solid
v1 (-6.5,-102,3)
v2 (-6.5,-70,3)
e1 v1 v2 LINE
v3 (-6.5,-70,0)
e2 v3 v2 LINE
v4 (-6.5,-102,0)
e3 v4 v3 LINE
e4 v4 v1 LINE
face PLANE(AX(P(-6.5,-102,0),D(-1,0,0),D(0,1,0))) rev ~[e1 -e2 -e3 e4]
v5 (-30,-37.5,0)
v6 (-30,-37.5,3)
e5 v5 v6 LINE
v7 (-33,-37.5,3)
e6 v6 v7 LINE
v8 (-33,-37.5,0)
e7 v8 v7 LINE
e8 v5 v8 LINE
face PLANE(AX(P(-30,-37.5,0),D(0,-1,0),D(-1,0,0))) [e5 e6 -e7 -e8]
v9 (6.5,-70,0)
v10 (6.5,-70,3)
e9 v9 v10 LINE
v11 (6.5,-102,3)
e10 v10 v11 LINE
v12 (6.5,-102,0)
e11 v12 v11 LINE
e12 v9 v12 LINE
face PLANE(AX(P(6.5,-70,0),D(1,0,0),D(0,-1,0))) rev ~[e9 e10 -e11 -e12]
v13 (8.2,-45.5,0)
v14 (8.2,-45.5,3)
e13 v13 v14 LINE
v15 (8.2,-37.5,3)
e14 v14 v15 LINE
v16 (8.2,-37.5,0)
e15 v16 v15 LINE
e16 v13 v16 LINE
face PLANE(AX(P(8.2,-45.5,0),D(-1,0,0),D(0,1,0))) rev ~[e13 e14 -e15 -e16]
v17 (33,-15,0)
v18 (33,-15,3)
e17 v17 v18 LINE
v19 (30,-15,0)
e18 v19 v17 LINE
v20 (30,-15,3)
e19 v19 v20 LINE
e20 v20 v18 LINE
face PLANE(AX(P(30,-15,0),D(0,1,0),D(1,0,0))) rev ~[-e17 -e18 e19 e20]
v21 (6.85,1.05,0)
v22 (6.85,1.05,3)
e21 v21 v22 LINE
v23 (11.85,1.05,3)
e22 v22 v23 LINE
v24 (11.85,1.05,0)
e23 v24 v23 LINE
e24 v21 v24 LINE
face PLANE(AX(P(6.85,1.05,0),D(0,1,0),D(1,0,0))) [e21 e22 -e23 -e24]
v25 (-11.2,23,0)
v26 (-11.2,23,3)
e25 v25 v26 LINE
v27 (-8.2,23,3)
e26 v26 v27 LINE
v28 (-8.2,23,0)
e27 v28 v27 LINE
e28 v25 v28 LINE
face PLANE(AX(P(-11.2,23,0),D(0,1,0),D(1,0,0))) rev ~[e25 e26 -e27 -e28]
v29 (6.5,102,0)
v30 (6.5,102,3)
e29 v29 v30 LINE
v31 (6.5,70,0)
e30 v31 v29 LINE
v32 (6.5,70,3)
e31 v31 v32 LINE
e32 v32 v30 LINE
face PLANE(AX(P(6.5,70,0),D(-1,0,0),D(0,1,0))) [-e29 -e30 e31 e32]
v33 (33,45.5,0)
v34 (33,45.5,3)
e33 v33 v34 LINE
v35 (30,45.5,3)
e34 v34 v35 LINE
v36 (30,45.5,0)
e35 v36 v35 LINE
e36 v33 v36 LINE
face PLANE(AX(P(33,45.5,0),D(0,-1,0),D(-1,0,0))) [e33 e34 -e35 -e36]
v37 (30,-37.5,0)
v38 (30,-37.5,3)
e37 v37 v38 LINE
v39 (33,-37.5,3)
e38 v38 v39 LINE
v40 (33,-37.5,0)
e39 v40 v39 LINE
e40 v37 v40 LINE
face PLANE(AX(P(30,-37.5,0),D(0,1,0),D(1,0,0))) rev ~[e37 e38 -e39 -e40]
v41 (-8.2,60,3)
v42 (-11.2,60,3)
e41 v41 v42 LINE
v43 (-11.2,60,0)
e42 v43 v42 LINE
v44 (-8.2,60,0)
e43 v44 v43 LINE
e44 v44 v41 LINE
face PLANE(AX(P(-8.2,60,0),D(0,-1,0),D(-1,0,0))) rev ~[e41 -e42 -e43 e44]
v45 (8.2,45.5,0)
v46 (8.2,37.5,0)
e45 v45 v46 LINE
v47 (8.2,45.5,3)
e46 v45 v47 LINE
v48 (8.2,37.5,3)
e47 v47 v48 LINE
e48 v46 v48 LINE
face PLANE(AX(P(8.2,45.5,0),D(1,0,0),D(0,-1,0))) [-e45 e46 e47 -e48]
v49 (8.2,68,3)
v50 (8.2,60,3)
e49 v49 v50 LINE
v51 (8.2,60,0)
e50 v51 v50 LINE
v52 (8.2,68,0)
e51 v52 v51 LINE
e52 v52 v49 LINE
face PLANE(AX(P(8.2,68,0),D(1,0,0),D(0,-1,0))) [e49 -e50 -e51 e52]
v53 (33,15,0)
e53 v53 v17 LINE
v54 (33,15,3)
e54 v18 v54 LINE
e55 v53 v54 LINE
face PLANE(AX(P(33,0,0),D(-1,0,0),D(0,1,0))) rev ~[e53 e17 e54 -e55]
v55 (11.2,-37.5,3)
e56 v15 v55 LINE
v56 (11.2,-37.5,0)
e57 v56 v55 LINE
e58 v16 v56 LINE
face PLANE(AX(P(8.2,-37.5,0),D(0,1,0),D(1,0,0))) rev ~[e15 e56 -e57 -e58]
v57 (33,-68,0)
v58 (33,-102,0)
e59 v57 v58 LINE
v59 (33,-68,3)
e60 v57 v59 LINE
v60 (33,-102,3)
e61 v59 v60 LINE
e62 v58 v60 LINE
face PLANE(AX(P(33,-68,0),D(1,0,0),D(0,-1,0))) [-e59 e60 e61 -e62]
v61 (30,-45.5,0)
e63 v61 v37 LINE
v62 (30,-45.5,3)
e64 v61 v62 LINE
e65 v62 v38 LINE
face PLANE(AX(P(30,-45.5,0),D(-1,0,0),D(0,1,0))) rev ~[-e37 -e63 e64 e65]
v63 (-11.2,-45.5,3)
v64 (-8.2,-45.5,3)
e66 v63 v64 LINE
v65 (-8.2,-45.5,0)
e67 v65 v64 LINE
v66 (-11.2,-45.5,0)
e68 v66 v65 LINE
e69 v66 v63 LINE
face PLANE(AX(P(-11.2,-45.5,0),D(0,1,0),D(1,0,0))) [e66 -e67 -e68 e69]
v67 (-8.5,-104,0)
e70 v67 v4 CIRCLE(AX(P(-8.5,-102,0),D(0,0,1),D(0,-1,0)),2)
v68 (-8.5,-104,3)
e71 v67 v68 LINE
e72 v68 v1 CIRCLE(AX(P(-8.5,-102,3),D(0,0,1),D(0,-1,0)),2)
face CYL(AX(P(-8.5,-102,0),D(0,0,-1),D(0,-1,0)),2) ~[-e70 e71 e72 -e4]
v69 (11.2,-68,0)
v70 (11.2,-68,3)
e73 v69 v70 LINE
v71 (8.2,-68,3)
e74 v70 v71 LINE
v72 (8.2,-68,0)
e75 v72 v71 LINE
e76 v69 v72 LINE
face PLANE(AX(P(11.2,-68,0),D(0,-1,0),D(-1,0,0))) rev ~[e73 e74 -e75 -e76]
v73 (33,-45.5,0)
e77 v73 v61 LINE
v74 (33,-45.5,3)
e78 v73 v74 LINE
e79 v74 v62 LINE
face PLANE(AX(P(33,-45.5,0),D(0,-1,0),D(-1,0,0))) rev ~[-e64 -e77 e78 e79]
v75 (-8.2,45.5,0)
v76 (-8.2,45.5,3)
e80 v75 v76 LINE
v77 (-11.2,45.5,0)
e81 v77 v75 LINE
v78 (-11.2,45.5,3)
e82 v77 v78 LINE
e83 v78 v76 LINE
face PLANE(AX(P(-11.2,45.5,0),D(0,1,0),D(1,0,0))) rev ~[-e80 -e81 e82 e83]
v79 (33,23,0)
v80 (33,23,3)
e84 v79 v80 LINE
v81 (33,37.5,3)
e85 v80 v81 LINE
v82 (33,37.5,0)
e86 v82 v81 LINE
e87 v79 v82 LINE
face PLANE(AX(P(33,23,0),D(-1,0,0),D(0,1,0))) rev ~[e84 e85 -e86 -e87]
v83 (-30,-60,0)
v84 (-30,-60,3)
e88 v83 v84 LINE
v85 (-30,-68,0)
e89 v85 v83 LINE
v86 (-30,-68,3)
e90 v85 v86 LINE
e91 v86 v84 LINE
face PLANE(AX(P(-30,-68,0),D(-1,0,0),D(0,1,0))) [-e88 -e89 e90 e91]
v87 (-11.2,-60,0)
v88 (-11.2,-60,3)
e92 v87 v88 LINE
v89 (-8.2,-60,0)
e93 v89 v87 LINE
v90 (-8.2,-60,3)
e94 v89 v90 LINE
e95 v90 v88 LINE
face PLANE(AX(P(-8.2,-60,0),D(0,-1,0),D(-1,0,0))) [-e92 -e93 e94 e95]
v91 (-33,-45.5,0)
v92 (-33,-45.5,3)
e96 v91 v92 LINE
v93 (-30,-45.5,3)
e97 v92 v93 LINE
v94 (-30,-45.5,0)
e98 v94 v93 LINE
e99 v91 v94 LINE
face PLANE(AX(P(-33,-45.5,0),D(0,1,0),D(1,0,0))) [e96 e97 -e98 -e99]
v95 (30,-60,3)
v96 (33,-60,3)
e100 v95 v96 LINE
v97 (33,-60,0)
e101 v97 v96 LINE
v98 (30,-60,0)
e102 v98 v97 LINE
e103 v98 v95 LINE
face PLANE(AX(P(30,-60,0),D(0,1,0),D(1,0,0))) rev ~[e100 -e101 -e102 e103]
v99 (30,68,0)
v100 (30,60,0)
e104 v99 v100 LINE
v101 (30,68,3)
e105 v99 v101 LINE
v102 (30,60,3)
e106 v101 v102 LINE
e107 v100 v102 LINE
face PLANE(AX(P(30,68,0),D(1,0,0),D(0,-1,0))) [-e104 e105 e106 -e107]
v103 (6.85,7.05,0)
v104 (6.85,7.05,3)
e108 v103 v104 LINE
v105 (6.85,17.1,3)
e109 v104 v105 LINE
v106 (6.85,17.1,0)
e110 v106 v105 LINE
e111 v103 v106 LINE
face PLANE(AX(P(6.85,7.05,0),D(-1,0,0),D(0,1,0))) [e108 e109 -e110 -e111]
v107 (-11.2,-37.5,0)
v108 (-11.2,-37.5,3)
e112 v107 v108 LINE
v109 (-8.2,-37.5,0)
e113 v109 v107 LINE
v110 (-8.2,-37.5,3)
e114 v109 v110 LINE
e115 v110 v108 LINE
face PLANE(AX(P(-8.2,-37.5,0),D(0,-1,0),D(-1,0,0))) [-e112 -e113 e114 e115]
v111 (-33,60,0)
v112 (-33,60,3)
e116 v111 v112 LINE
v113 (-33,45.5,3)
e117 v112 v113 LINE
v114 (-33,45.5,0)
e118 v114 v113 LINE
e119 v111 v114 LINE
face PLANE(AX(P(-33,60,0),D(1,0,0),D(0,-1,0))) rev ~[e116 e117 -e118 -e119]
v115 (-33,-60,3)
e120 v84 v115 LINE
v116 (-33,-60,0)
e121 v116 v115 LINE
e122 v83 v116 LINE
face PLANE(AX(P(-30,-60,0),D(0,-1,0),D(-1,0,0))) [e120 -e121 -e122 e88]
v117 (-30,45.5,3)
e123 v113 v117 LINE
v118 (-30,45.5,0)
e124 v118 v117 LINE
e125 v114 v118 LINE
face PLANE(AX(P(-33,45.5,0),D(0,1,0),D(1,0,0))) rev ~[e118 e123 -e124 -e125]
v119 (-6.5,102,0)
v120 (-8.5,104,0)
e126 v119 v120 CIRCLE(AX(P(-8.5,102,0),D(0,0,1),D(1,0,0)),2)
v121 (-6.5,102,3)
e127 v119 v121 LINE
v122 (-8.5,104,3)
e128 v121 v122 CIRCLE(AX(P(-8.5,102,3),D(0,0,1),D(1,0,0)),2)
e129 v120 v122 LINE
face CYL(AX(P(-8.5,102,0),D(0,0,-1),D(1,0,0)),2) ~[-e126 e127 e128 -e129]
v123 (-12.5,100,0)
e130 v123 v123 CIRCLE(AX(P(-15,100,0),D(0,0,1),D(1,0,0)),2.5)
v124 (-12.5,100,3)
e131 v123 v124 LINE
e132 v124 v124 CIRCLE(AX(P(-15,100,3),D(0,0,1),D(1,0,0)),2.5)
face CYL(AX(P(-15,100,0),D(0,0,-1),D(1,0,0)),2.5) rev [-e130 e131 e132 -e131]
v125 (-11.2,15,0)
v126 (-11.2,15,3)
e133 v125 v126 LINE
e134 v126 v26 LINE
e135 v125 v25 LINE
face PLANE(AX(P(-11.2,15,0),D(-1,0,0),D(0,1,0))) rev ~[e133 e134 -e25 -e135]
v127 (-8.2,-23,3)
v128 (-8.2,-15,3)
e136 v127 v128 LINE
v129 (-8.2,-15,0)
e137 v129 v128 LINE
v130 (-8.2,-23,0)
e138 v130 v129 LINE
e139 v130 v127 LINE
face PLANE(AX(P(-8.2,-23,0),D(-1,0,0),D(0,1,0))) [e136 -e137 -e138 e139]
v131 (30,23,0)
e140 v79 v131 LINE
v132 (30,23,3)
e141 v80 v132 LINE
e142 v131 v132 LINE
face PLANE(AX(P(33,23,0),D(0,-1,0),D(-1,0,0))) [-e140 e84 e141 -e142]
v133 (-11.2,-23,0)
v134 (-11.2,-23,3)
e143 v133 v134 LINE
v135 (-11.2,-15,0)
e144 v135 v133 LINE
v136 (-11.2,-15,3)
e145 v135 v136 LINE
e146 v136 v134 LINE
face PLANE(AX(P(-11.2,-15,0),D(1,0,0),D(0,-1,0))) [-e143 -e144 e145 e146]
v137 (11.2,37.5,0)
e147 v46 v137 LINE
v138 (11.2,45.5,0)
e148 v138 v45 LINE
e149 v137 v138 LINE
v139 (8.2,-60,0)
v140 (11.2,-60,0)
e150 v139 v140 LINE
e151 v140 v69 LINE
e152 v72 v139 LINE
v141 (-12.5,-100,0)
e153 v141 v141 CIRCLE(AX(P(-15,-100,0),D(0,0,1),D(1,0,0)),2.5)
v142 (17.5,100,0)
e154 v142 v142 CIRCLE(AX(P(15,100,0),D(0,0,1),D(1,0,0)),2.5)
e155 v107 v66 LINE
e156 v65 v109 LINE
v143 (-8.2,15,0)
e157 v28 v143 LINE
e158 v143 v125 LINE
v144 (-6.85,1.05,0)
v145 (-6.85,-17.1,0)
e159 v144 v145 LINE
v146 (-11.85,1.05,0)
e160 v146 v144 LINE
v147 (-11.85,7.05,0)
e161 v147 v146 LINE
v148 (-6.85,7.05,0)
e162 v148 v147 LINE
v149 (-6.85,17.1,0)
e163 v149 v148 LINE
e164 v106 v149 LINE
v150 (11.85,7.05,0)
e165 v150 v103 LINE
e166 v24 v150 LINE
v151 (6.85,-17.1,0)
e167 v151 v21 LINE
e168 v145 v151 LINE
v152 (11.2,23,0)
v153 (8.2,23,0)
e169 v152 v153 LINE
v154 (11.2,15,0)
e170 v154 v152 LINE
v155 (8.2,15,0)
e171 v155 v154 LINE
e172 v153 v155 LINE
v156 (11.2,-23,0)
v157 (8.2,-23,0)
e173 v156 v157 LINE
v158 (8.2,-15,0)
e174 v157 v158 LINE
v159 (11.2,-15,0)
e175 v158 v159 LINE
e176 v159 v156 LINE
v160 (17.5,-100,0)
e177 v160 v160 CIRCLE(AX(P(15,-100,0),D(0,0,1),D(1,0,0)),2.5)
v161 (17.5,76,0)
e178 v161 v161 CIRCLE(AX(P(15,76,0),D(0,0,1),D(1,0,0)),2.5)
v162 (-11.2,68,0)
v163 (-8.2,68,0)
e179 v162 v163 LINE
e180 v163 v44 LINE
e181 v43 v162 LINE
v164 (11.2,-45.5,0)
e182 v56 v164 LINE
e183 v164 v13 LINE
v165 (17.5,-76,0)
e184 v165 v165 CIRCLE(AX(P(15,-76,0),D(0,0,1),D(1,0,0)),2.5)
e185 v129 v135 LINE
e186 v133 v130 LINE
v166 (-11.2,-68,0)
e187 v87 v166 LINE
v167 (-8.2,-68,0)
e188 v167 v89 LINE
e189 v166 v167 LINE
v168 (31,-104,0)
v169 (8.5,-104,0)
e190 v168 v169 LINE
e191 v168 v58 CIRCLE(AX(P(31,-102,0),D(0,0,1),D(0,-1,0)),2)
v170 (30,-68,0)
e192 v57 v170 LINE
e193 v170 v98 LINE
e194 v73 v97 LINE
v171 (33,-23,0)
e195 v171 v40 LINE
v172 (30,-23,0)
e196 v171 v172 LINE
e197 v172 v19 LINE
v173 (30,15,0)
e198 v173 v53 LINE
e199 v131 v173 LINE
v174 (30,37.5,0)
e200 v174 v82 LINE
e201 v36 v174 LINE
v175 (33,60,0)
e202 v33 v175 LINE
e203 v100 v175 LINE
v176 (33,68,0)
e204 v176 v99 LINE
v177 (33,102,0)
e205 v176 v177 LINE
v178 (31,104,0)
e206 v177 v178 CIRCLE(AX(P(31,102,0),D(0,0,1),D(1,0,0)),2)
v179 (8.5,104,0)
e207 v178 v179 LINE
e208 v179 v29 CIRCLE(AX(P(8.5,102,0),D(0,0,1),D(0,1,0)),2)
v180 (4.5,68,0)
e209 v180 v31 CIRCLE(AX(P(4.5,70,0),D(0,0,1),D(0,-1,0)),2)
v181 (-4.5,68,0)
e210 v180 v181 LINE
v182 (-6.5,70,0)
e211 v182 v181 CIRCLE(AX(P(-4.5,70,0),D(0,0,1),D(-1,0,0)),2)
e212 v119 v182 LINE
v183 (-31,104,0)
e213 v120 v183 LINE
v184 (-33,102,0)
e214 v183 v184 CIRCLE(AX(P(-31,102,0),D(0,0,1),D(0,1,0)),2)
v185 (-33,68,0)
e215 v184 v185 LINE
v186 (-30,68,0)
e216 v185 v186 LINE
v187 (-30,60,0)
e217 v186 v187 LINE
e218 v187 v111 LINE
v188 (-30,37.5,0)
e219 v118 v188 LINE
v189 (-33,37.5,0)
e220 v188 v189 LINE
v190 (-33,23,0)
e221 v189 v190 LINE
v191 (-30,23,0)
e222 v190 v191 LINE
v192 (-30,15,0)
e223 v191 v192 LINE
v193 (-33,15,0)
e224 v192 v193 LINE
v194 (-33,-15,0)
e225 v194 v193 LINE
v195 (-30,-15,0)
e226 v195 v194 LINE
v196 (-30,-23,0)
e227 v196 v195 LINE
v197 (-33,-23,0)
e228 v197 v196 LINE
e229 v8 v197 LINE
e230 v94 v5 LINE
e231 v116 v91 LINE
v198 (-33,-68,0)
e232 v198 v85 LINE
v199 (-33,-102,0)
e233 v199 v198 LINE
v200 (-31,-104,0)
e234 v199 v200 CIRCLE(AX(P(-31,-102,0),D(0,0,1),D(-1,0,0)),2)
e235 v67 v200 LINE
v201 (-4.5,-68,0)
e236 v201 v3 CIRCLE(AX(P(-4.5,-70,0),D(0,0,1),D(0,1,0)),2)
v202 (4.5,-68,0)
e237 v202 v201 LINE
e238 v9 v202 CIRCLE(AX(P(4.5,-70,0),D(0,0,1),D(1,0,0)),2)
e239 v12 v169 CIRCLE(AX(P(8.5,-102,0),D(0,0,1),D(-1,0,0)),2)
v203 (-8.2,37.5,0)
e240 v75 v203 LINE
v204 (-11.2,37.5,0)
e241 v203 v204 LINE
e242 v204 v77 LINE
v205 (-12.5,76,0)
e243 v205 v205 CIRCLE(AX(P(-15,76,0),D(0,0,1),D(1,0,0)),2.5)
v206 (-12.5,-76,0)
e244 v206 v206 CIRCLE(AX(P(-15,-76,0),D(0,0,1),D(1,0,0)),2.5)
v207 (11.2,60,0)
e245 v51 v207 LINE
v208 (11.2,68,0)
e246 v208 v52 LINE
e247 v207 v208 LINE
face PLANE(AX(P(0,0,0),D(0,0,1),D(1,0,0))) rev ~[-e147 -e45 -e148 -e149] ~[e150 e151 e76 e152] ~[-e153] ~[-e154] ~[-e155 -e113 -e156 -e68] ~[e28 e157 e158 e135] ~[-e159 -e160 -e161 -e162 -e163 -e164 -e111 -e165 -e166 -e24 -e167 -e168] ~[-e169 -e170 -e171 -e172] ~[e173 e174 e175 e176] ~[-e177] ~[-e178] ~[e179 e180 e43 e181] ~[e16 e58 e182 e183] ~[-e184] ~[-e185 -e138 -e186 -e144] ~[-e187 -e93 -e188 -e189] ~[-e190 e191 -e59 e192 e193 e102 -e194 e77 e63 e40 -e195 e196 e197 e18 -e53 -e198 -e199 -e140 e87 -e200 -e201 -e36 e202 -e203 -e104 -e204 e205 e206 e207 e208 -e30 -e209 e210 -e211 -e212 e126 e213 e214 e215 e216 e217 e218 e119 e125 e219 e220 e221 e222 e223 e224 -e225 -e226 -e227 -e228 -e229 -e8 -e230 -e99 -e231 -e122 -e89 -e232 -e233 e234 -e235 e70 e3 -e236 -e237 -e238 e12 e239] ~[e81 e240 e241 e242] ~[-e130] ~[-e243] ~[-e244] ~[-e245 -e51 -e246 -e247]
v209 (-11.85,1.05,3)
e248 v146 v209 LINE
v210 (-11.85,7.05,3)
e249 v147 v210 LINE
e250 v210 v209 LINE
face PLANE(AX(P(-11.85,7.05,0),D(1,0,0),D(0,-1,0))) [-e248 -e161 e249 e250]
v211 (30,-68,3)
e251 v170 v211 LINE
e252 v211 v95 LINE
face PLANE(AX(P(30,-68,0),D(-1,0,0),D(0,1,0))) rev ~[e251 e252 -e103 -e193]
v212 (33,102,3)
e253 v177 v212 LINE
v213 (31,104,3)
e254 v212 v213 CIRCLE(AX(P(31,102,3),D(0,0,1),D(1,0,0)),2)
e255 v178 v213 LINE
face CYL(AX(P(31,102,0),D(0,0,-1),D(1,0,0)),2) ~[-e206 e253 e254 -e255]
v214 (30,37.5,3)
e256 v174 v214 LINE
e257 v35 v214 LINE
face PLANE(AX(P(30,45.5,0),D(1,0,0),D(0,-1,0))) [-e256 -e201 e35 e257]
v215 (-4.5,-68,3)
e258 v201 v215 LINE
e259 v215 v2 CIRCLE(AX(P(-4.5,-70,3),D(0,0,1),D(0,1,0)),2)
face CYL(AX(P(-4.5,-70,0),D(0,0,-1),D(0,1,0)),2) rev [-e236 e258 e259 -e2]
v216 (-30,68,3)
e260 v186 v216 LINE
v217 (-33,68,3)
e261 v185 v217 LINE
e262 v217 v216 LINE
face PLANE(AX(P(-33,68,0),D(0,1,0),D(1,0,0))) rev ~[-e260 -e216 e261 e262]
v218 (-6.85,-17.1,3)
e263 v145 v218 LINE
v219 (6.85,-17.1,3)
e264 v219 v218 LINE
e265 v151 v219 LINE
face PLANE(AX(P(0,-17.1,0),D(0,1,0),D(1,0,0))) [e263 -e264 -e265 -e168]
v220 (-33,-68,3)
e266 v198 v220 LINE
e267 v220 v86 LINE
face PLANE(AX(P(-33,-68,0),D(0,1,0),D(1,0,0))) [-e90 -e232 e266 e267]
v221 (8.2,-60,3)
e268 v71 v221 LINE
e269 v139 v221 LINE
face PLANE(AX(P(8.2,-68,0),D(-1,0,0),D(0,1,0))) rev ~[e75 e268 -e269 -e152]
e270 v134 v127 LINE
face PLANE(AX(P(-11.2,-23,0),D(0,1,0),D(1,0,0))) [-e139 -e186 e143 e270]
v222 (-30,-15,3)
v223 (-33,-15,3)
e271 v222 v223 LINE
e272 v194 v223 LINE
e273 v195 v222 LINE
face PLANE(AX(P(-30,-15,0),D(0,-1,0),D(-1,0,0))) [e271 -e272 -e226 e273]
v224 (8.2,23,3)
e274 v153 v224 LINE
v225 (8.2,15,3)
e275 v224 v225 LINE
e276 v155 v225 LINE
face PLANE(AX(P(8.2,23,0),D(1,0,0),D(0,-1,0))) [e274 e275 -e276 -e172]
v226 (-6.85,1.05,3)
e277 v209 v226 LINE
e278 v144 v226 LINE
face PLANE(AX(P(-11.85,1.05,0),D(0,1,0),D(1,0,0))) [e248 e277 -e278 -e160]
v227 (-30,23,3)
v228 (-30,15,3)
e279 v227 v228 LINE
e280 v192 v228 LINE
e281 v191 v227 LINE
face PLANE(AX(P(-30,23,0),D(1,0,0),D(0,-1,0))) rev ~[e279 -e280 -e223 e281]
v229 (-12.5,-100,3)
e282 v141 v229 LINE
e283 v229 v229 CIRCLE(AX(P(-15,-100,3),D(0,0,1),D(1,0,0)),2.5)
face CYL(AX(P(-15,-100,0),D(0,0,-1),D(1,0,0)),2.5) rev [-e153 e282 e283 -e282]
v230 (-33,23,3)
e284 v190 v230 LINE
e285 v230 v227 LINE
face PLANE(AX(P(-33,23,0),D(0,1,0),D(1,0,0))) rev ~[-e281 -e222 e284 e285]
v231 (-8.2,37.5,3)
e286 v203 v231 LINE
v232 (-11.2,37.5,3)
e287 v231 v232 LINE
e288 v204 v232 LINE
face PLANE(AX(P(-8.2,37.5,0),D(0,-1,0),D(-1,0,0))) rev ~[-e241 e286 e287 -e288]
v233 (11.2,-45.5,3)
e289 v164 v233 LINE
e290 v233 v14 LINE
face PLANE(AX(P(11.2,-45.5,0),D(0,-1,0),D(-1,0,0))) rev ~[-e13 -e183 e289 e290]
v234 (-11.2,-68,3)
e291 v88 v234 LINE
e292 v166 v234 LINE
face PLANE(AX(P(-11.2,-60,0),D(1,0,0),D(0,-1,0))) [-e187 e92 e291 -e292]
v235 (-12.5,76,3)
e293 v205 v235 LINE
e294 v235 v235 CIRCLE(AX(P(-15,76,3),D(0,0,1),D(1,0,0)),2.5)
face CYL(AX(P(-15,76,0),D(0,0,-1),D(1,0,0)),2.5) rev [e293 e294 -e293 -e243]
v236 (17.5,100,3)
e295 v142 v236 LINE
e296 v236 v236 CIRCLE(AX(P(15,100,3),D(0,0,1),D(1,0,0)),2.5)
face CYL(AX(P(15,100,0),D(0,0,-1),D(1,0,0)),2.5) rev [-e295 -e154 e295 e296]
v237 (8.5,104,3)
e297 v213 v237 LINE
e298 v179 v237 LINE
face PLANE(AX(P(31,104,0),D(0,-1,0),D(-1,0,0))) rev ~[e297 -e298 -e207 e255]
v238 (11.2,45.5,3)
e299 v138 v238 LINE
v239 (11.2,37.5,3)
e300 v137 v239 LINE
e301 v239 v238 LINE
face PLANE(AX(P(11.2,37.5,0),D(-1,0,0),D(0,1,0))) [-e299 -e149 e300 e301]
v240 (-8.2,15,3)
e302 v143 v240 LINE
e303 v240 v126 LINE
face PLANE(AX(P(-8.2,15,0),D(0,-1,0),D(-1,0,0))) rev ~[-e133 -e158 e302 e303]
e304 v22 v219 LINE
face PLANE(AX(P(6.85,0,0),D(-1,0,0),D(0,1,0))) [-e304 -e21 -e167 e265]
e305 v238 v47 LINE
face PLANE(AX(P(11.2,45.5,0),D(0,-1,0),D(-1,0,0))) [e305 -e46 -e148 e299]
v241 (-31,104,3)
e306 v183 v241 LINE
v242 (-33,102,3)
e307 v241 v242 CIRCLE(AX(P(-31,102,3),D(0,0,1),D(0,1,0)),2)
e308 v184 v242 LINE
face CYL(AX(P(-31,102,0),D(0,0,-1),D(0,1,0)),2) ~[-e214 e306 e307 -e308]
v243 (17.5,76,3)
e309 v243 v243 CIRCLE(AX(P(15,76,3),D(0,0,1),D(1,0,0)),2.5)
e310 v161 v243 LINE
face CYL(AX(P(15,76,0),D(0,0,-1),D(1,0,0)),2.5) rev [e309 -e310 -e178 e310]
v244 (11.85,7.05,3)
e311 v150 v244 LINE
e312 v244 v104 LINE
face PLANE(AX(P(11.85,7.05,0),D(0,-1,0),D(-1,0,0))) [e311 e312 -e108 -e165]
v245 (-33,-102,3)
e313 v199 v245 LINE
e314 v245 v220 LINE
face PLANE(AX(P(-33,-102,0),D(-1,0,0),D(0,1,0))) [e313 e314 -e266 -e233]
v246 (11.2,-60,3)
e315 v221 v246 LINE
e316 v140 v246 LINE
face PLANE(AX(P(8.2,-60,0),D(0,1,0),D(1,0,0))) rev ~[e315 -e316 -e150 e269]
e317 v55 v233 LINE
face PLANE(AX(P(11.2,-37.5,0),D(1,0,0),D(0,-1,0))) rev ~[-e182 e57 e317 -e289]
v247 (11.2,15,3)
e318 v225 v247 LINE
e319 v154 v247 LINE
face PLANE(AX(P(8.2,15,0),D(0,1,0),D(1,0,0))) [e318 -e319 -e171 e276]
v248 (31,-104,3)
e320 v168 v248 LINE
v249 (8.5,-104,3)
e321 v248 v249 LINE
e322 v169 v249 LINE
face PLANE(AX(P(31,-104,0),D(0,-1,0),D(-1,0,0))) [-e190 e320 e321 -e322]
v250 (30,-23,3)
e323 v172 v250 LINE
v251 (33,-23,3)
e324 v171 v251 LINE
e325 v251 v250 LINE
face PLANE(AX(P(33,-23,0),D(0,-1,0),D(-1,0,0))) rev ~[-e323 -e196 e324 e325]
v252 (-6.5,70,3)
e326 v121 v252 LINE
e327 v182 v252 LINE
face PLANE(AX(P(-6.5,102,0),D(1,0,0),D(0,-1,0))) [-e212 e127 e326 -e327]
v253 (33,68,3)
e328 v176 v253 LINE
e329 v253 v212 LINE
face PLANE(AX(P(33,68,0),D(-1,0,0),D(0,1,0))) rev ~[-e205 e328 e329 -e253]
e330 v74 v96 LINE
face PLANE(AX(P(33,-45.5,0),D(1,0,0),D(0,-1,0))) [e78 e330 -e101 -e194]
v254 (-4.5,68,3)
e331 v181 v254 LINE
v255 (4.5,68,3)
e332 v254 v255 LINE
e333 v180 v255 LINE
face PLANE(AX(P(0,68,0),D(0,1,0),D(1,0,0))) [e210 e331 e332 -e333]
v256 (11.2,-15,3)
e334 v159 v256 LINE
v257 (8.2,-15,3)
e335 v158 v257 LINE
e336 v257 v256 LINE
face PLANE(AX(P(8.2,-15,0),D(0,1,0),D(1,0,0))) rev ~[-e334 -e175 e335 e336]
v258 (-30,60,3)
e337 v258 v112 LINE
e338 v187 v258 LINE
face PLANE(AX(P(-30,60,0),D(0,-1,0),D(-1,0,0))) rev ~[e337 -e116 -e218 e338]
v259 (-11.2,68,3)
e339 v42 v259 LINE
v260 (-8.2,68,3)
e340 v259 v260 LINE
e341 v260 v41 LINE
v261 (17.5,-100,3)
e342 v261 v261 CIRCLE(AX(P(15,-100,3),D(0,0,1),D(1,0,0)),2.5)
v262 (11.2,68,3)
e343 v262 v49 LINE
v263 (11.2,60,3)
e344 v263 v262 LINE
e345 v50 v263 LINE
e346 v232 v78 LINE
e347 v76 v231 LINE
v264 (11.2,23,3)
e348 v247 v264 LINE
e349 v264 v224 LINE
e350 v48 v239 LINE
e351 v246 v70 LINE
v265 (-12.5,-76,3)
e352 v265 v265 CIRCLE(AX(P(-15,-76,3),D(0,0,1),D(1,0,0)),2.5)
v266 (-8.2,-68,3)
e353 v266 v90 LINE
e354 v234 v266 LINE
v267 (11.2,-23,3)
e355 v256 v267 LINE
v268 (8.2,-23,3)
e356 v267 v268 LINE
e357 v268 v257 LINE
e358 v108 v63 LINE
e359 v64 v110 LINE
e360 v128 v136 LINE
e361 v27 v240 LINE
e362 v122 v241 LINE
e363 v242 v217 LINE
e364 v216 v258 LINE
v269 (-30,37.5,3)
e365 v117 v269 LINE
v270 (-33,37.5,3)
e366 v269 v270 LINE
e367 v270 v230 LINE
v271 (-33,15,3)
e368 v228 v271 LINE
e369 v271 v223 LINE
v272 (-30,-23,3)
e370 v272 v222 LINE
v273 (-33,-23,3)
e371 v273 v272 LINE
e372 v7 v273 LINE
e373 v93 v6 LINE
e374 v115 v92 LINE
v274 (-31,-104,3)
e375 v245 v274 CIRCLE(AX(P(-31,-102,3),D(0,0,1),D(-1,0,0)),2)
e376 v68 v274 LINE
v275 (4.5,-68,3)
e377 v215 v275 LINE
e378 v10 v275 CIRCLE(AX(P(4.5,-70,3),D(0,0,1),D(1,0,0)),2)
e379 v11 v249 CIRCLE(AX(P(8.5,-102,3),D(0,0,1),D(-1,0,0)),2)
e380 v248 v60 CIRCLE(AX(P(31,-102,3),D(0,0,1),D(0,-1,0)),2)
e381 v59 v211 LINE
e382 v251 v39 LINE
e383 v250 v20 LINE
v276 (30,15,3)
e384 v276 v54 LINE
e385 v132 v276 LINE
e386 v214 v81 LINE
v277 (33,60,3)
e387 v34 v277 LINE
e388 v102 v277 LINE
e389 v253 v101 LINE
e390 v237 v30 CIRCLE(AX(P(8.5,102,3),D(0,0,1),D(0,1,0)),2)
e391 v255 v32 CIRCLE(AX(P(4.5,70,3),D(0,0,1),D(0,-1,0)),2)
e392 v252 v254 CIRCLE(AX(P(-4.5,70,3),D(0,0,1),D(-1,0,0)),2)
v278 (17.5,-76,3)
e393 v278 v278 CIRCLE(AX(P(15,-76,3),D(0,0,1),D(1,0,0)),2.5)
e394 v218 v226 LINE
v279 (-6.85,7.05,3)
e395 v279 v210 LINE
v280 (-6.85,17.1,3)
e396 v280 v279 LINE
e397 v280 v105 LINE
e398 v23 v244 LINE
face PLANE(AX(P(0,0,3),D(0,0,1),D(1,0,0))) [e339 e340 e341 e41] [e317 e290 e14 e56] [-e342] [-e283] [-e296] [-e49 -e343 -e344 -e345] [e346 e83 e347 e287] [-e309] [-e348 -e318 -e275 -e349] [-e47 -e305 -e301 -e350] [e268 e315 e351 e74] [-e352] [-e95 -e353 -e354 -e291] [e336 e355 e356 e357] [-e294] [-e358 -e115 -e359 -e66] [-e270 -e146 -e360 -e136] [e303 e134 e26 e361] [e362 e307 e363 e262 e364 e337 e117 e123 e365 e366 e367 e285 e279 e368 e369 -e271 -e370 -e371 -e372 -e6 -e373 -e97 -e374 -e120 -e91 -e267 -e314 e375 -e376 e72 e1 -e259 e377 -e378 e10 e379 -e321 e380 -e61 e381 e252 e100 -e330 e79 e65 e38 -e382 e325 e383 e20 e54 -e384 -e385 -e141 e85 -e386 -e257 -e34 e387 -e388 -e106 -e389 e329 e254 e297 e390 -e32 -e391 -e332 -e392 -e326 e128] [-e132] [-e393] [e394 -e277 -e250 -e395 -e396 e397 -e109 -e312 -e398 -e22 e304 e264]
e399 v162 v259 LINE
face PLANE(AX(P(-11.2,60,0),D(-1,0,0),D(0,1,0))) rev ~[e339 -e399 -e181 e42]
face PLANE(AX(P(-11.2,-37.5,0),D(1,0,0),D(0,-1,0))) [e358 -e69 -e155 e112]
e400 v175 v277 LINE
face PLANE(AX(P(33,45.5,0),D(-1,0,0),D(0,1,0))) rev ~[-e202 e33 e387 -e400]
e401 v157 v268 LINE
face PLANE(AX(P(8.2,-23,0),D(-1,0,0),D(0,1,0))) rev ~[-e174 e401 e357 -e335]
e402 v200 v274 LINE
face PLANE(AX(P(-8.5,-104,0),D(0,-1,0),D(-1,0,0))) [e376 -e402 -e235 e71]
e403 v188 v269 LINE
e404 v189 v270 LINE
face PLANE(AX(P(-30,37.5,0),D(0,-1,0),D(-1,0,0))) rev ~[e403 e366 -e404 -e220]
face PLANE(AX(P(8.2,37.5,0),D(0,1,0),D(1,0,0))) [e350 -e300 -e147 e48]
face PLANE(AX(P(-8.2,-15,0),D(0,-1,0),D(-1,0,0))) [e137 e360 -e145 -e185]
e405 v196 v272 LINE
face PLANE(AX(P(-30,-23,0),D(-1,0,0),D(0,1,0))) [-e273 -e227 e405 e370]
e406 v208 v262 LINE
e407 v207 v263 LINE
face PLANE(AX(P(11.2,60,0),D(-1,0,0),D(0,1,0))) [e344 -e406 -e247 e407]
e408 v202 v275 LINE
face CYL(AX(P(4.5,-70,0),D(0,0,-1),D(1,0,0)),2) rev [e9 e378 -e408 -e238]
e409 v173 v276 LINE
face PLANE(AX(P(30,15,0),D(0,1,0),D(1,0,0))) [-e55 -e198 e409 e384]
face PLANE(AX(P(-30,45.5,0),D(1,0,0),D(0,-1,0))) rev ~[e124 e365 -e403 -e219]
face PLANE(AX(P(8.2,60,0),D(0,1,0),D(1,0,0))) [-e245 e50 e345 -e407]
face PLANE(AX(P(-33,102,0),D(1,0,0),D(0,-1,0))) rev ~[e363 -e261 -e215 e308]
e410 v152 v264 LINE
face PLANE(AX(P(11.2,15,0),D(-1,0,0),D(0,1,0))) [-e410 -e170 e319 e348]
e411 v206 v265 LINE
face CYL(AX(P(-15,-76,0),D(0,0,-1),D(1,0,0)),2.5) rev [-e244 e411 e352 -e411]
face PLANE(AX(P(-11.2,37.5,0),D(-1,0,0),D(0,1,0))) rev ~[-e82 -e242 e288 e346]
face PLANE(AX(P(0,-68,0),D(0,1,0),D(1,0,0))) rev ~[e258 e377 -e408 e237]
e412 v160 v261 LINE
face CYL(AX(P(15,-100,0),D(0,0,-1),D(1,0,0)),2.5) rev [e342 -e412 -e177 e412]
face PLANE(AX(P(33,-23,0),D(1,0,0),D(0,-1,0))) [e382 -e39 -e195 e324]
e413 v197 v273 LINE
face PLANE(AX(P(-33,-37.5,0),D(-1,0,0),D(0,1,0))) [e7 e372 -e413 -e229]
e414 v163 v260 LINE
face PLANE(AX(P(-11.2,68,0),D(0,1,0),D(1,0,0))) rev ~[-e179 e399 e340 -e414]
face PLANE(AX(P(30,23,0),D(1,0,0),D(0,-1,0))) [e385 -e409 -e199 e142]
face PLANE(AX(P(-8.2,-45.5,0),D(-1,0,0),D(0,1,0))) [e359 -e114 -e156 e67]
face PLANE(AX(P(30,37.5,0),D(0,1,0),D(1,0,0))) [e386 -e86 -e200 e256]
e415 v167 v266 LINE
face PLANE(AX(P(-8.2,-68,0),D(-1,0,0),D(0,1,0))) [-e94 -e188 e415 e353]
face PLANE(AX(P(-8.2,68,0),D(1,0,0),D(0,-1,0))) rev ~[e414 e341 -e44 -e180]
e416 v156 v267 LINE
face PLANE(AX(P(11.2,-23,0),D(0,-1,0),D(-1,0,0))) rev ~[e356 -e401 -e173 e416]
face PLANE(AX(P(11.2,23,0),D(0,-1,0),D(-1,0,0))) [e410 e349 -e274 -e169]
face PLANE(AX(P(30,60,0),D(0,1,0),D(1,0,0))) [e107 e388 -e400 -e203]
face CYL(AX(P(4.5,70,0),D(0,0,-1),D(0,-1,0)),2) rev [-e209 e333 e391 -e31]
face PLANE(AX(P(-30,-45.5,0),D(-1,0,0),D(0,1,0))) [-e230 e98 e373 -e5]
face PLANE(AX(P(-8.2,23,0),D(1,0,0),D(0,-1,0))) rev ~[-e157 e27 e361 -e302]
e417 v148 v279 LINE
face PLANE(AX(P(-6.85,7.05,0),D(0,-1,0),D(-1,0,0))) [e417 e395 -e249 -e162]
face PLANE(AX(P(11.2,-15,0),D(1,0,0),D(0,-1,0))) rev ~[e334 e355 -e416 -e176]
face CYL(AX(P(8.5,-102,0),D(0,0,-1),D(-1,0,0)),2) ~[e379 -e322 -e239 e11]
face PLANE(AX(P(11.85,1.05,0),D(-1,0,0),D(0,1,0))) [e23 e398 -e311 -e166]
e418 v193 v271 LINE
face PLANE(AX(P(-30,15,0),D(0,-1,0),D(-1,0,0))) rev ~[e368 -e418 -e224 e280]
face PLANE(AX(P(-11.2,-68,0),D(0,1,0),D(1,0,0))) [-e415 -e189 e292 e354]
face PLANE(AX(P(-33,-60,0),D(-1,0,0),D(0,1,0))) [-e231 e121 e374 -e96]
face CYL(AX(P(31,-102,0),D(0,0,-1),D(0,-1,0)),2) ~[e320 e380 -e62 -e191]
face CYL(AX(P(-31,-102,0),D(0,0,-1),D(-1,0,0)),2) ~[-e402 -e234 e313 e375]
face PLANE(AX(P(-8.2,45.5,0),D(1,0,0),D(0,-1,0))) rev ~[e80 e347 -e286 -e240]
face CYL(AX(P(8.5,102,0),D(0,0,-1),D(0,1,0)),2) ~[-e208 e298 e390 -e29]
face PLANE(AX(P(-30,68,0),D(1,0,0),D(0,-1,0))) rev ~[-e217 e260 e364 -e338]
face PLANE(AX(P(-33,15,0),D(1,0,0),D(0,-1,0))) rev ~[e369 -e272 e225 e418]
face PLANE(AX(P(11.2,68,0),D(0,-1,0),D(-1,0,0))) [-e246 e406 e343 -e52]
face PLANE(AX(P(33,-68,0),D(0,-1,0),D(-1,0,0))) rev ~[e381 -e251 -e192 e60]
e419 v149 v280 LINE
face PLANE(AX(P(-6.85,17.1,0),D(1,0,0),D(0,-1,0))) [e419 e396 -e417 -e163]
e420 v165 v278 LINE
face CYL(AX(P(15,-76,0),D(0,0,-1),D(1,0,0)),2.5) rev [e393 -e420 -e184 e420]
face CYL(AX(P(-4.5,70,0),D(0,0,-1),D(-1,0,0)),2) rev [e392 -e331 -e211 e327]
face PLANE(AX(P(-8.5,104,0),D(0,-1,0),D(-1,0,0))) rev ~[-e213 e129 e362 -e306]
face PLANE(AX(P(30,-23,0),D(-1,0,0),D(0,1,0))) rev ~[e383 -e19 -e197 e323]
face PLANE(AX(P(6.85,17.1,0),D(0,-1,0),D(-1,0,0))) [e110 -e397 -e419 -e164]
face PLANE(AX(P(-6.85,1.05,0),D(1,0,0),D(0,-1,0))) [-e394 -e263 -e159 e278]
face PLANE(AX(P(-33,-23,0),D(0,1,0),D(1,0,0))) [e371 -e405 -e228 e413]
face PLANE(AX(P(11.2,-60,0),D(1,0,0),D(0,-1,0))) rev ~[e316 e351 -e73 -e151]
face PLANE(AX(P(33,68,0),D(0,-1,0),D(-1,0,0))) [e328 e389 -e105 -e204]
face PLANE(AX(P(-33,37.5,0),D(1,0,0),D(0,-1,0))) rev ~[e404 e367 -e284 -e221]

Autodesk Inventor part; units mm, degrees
ref_plane "YZ Plane" through (0, 0, 0) normal (1, 0, 0) x (0, 1, 0)
ref_plane "XZ Plane" through (0, 0, 0) normal (0, 1, 0) x (-1, 0, 0)
ref_plane "XY Plane" through (0, 0, 0) normal (0, 0, 1) x (1, 0, 0)
sketch "草圖1" plane through (0, 0, 0) normal (0, 0, 1) x (1, 0, 0)
  line L0 (-33, -104) -> (33, 104) construction
  line L1 (33, -104) -> (-33, 104) construction
  line L2 (0, 128.5379) -> (0, -160.5456)
  circle A0 centre (-15, 100) radius 2.5
  circle A1 centre (15, 100) radius 2.5
  circle A2 centre (15, 76) radius 2.5
  circle A3 centre (-15, 76) radius 2.5
  line L3 (-33, 68) -> (-30, 68)
  line L4 (-30, 68) -> (-30, 60)
  line L5 (-30, 60) -> (-33, 60)
  line L6 (-33, 102) -> (-33, 68)
  line L7 (-11.2, 68) -> (-8.2, 68)
  line L8 (-8.2, 68) -> (-8.2, 60)
  line L9 (-8.2, 60) -> (-11.2, 60)
  line L10 (-11.2, 60) -> (-11.2, 68)
  line L11 (33, 68) -> (30, 68)
  line L12 (30, 68) -> (30, 60)
  line L13 (30, 60) -> (33, 60)
  line L14 (11.2, 68) -> (8.2, 68)
  line L15 (8.2, 68) -> (8.2, 60)
  line L16 (8.2, 60) -> (11.2, 60)
  line L17 (11.2, 60) -> (11.2, 68)
  line L18 (33, 68) -> (33, 102)
  line L19 (8.2, 45.5) -> (8.2, 37.5)
  line L20 (8.2, 37.5) -> (11.2, 37.5)
  line L21 (11.2, 45.5) -> (8.2, 45.5)
  line L22 (11.2, 37.5) -> (11.2, 45.5)
  line L23 (30, 45.5) -> (30, 37.5)
  line L24 (30, 37.5) -> (33, 37.5)
  line L25 (33, 45.5) -> (30, 45.5)
  line L26 (-8.2, 45.5) -> (-8.2, 37.5)
  line L27 (-8.2, 37.5) -> (-11.2, 37.5)
  line L28 (-11.2, 45.5) -> (-8.2, 45.5)
  line L29 (-11.2, 37.5) -> (-11.2, 45.5)
  line L30 (-30, 45.5) -> (-30, 37.5)
  line L31 (-33, 45.5) -> (-30, 45.5)
  line L32 (-30, 37.5) -> (-33, 37.5)
  line L33 (8.2, 23) -> (8.2, 15)
  line L34 (8.2, 15) -> (11.2, 15)
  line L35 (11.2, 23) -> (8.2, 23)
  line L36 (11.2, 15) -> (11.2, 23)
  line L37 (30, 23) -> (30, 15)
  line L38 (30, 15) -> (33, 15)
  line L39 (33, 23) -> (30, 23)
  line L40 (-8.2, 23) -> (-8.2, 15)
  line L41 (-8.2, 15) -> (-11.2, 15)
  line L42 (-11.2, 23) -> (-8.2, 23)
  line L43 (-11.2, 15) -> (-11.2, 23)
  line L44 (-30, 23) -> (-30, 15)
  line L45 (-33, 23) -> (-30, 23)
  line L46 (-30, 15) -> (-33, 15)
  line L47 (-33, 60) -> (-33, 45.5)
  line L48 (-33, 37.5) -> (-33, 23)
  line L49 (33, 23) -> (33, 37.5)
  line L50 (33, 45.5) -> (33, 60)
  line L51 (-4.5, 68) -> (4.5, 68)
  line L52 (6.5, 70) -> (6.5, 102)
  line L53 (-6.5, 102) -> (-6.5, 70)
  line L54 (-6.5, 68) -> (6.5, 104) construction
  line L55 (6.5, 68) -> (-6.5, 104) construction
  line L56 (31, 104) -> (8.5, 104)
  line L57 (-8.5, 104) -> (-31, 104)
  arc A4 (-6.5, 102) -> (-8.5, 104) centre (-8.5, 102) ccw
  arc A5 (8.5, 104) -> (6.5, 102) centre (8.5, 102) ccw
  arc A6 (-6.5, 70) -> (-4.5, 68) centre (-4.5, 70) ccw
  arc A7 (4.5, 68) -> (6.5, 70) centre (4.5, 70) ccw
  arc A8 (-31, 104) -> (-33, 102) centre (-31, 102) ccw
  arc A9 (33, 102) -> (31, 104) centre (31, 102) ccw
  line L58 (-83.0249, 0) -> (86.2934, 0)
  circle A10 centre (-15, -100) radius 2.5
  circle A11 centre (15, -100) radius 2.5
  circle A12 centre (15, -76) radius 2.5
  circle A13 centre (-15, -76) radius 2.5
  line L59 (-33, -68) -> (-30, -68)
  line L60 (-30, -68) -> (-30, -60)
  line L61 (-30, -60) -> (-33, -60)
  line L62 (-33, -102) -> (-33, -68)
  line L63 (-11.2, -68) -> (-8.2, -68)
  line L64 (-8.2, -68) -> (-8.2, -60)
  line L65 (-8.2, -60) -> (-11.2, -60)
  line L66 (-11.2, -60) -> (-11.2, -68)
  line L67 (33, -68) -> (30, -68)
  line L68 (30, -68) -> (30, -60)
  line L69 (30, -60) -> (33, -60)
  line L70 (8.2, -60) -> (11.2, -60)
  line L71 (11.2, -60) -> (11.2, -68)
  line L72 (8.2, -68) -> (8.2, -60)
  line L73 (11.2, -68) -> (8.2, -68)
  line L74 (33, -68) -> (33, -102)
  line L75 (8.2, -45.5) -> (8.2, -37.5)
  line L76 (8.2, -37.5) -> (11.2, -37.5)
  line L77 (11.2, -45.5) -> (8.2, -45.5)
  line L78 (11.2, -37.5) -> (11.2, -45.5)
  line L79 (30, -45.5) -> (30, -37.5)
  line L80 (30, -37.5) -> (33, -37.5)
  line L81 (33, -45.5) -> (30, -45.5)
  line L82 (-8.2, -45.5) -> (-8.2, -37.5)
  line L83 (-8.2, -37.5) -> (-11.2, -37.5)
  line L84 (-11.2, -45.5) -> (-8.2, -45.5)
  line L85 (-11.2, -37.5) -> (-11.2, -45.5)
  line L86 (-30, -45.5) -> (-30, -37.5)
  line L87 (-33, -45.5) -> (-30, -45.5)
  line L88 (-30, -37.5) -> (-33, -37.5)
  line L89 (8.2, -23) -> (8.2, -15)
  line L90 (8.2, -15) -> (11.2, -15)
  line L91 (11.2, -23) -> (8.2, -23)
  line L92 (11.2, -15) -> (11.2, -23)
  line L93 (30, -23) -> (30, -15)
  line L94 (30, -15) -> (33, -15)
  line L95 (33, -23) -> (30, -23)
  line L96 (-8.2, -23) -> (-8.2, -15)
  line L97 (-8.2, -15) -> (-11.2, -15)
  line L98 (-11.2, -23) -> (-8.2, -23)
  line L99 (-11.2, -15) -> (-11.2, -23)
  line L100 (-30, -23) -> (-30, -15)
  line L101 (-33, -23) -> (-30, -23)
  line L102 (-30, -15) -> (-33, -15)
  line L103 (-33, -60) -> (-33, -45.5)
  line L104 (-33, -37.5) -> (-33, -23)
  line L105 (33, -23) -> (33, -37.5)
  line L106 (33, -45.5) -> (33, -60)
  line L107 (-4.5, -68) -> (4.5, -68)
  line L108 (6.5, -70) -> (6.5, -102)
  line L109 (-6.5, -102) -> (-6.5, -70)
  line L110 (-6.5, -68) -> (6.5, -104) construction
  line L111 (6.5, -68) -> (-6.5, -104) construction
  line L112 (31, -104) -> (8.5, -104)
  line L113 (-8.5, -104) -> (-31, -104)
  arc A14 (-8.5, -104) -> (-6.5, -102) centre (-8.5, -102) ccw
  arc A15 (6.5, -102) -> (8.5, -104) centre (8.5, -102) ccw
  arc A16 (-4.5, -68) -> (-6.5, -70) centre (-4.5, -70) ccw
  arc A17 (6.5, -70) -> (4.5, -68) centre (4.5, -70) ccw
  arc A18 (-33, -102) -> (-31, -104) centre (-31, -102) ccw
  arc A19 (31, -104) -> (33, -102) centre (31, -102) ccw
  line L114 (-31, -104) -> (-8.5, -104)
  line L115 (8.5, -104) -> (31, -104)
  line L116 (-6.85, -17.1) -> (6.85, -17.1)
  line L117 (6.85, 17.1) -> (-6.85, 17.1)
  line L118 (-6.85, -17.1) -> (6.85, 17.1) construction
  line L119 (6.85, -17.1) -> (-6.85, 17.1) construction
  line L120 (11.85, 1.05) -> (11.85, 7.05)
  line L121 (-11.85, 7.05) -> (-11.85, 1.05)
  line L122 (-11.85, 1.05) -> (11.85, 7.05) construction
  line L123 (11.85, 1.05) -> (-11.85, 7.05) construction
  line L124 (-6.85, 17.1) -> (-6.85, 7.05)
  line L125 (-6.85, 1.05) -> (-6.85, -17.1)
  line L126 (6.85, -17.1) -> (6.85, 1.05)
  line L127 (6.85, 7.05) -> (6.85, 17.1)
  line L128 (11.85, 7.05) -> (6.85, 7.05)
  line L129 (6.85, 1.05) -> (11.85, 1.05)
  line L130 (-11.85, 1.05) -> (-6.85, 1.05)
  line L131 (-6.85, 7.05) -> (-11.85, 7.05)
  line L132 (-33, 15) -> (-33, -15)
  line L133 (-33, -23) -> (-33, -37.5)
  line L134 (-33, -45.5) -> (-33, -60)
  line L135 (-33, -68) -> (-33, -102)
  line L136 (33, -102) -> (33, -68)
  line L137 (33, -60) -> (33, -45.5)
  line L138 (33, -37.5) -> (33, -23)
  line L139 (33, -15) -> (33, 15)
  line L140 (-65.8128, 14.982) -> (72.6132, 14.982) construction
  point P0 (0, 0)
  point P1 (0, 86.5078)
  point P2 (0, 86)
  point P3 (0, -86.5078)
  point P4 (0, -86)
  point P5 (0, 4.05)
  point P6 (11.85, 4.05)
  dimension "d0" = 66
  dimension "d1" = 208
  dimension "d6" = 5
  dimension "d8" = 30
  dimension "d9" = 24
  dimension "d10" = 3
  dimension "d11" = 8
  dimension "d12" = 8
  dimension "d13" = 3
  dimension "d14" = 18.8
  dimension "d17" = 22.5
  dimension "d22" = 13
  dimension "d23" = 4
  dimension "d24" = 2
  dimension "d25" = 2
  dimension "d26" = 34.2
  dimension "d27" = 13.7
  dimension "d28" = 6
  dimension "d30" = 23.7
  dimension "d31" = 10.05
  dimension "d37" = 2.118
  dimension "d38" = -0.018
extrude "擠出1" add sketch "草圖1" along normal blind 3 contours L51 A7 L52 A5 L56 A9 L18 L11 L12 L13 L50 L25 L23 L24 L49 L39 L37 L38 L139 L58 L126 L129 L120 L128 L127 L117 L2 | L2 L117 L124 L131 L121 L130 L125 L58 L132 L46 L44 L45 L48 L32 L30 L31 L47 L5 L4 L3 L6 A8 L57 A4 L53 A6 L51 | L116 L126 L58 L139 L94 L93 L95 L105 L80 L79 L81 L106 L69 L68 L67 L74 A19 L112 A15 L108 A17 L107 L2 | L2 L107 A16 L109 A14 L113 A18 L62 L59 L60 L61 L103 L87 L86 L88 L104 L101 L100 L102 L132 L58 L125 L116
sketch "草圖3" plane through (0, 0, 3) normal (0, 0, 1) x (1, 0, 0)
  line L0 (-88.1264, 0) -> (75.7938, 0)
  line L1 (0, 123.8394) -> (0, -129.4918)
  point P0 (0, 0)
properties part number "frame_v2" material "木材 (楓木)"
